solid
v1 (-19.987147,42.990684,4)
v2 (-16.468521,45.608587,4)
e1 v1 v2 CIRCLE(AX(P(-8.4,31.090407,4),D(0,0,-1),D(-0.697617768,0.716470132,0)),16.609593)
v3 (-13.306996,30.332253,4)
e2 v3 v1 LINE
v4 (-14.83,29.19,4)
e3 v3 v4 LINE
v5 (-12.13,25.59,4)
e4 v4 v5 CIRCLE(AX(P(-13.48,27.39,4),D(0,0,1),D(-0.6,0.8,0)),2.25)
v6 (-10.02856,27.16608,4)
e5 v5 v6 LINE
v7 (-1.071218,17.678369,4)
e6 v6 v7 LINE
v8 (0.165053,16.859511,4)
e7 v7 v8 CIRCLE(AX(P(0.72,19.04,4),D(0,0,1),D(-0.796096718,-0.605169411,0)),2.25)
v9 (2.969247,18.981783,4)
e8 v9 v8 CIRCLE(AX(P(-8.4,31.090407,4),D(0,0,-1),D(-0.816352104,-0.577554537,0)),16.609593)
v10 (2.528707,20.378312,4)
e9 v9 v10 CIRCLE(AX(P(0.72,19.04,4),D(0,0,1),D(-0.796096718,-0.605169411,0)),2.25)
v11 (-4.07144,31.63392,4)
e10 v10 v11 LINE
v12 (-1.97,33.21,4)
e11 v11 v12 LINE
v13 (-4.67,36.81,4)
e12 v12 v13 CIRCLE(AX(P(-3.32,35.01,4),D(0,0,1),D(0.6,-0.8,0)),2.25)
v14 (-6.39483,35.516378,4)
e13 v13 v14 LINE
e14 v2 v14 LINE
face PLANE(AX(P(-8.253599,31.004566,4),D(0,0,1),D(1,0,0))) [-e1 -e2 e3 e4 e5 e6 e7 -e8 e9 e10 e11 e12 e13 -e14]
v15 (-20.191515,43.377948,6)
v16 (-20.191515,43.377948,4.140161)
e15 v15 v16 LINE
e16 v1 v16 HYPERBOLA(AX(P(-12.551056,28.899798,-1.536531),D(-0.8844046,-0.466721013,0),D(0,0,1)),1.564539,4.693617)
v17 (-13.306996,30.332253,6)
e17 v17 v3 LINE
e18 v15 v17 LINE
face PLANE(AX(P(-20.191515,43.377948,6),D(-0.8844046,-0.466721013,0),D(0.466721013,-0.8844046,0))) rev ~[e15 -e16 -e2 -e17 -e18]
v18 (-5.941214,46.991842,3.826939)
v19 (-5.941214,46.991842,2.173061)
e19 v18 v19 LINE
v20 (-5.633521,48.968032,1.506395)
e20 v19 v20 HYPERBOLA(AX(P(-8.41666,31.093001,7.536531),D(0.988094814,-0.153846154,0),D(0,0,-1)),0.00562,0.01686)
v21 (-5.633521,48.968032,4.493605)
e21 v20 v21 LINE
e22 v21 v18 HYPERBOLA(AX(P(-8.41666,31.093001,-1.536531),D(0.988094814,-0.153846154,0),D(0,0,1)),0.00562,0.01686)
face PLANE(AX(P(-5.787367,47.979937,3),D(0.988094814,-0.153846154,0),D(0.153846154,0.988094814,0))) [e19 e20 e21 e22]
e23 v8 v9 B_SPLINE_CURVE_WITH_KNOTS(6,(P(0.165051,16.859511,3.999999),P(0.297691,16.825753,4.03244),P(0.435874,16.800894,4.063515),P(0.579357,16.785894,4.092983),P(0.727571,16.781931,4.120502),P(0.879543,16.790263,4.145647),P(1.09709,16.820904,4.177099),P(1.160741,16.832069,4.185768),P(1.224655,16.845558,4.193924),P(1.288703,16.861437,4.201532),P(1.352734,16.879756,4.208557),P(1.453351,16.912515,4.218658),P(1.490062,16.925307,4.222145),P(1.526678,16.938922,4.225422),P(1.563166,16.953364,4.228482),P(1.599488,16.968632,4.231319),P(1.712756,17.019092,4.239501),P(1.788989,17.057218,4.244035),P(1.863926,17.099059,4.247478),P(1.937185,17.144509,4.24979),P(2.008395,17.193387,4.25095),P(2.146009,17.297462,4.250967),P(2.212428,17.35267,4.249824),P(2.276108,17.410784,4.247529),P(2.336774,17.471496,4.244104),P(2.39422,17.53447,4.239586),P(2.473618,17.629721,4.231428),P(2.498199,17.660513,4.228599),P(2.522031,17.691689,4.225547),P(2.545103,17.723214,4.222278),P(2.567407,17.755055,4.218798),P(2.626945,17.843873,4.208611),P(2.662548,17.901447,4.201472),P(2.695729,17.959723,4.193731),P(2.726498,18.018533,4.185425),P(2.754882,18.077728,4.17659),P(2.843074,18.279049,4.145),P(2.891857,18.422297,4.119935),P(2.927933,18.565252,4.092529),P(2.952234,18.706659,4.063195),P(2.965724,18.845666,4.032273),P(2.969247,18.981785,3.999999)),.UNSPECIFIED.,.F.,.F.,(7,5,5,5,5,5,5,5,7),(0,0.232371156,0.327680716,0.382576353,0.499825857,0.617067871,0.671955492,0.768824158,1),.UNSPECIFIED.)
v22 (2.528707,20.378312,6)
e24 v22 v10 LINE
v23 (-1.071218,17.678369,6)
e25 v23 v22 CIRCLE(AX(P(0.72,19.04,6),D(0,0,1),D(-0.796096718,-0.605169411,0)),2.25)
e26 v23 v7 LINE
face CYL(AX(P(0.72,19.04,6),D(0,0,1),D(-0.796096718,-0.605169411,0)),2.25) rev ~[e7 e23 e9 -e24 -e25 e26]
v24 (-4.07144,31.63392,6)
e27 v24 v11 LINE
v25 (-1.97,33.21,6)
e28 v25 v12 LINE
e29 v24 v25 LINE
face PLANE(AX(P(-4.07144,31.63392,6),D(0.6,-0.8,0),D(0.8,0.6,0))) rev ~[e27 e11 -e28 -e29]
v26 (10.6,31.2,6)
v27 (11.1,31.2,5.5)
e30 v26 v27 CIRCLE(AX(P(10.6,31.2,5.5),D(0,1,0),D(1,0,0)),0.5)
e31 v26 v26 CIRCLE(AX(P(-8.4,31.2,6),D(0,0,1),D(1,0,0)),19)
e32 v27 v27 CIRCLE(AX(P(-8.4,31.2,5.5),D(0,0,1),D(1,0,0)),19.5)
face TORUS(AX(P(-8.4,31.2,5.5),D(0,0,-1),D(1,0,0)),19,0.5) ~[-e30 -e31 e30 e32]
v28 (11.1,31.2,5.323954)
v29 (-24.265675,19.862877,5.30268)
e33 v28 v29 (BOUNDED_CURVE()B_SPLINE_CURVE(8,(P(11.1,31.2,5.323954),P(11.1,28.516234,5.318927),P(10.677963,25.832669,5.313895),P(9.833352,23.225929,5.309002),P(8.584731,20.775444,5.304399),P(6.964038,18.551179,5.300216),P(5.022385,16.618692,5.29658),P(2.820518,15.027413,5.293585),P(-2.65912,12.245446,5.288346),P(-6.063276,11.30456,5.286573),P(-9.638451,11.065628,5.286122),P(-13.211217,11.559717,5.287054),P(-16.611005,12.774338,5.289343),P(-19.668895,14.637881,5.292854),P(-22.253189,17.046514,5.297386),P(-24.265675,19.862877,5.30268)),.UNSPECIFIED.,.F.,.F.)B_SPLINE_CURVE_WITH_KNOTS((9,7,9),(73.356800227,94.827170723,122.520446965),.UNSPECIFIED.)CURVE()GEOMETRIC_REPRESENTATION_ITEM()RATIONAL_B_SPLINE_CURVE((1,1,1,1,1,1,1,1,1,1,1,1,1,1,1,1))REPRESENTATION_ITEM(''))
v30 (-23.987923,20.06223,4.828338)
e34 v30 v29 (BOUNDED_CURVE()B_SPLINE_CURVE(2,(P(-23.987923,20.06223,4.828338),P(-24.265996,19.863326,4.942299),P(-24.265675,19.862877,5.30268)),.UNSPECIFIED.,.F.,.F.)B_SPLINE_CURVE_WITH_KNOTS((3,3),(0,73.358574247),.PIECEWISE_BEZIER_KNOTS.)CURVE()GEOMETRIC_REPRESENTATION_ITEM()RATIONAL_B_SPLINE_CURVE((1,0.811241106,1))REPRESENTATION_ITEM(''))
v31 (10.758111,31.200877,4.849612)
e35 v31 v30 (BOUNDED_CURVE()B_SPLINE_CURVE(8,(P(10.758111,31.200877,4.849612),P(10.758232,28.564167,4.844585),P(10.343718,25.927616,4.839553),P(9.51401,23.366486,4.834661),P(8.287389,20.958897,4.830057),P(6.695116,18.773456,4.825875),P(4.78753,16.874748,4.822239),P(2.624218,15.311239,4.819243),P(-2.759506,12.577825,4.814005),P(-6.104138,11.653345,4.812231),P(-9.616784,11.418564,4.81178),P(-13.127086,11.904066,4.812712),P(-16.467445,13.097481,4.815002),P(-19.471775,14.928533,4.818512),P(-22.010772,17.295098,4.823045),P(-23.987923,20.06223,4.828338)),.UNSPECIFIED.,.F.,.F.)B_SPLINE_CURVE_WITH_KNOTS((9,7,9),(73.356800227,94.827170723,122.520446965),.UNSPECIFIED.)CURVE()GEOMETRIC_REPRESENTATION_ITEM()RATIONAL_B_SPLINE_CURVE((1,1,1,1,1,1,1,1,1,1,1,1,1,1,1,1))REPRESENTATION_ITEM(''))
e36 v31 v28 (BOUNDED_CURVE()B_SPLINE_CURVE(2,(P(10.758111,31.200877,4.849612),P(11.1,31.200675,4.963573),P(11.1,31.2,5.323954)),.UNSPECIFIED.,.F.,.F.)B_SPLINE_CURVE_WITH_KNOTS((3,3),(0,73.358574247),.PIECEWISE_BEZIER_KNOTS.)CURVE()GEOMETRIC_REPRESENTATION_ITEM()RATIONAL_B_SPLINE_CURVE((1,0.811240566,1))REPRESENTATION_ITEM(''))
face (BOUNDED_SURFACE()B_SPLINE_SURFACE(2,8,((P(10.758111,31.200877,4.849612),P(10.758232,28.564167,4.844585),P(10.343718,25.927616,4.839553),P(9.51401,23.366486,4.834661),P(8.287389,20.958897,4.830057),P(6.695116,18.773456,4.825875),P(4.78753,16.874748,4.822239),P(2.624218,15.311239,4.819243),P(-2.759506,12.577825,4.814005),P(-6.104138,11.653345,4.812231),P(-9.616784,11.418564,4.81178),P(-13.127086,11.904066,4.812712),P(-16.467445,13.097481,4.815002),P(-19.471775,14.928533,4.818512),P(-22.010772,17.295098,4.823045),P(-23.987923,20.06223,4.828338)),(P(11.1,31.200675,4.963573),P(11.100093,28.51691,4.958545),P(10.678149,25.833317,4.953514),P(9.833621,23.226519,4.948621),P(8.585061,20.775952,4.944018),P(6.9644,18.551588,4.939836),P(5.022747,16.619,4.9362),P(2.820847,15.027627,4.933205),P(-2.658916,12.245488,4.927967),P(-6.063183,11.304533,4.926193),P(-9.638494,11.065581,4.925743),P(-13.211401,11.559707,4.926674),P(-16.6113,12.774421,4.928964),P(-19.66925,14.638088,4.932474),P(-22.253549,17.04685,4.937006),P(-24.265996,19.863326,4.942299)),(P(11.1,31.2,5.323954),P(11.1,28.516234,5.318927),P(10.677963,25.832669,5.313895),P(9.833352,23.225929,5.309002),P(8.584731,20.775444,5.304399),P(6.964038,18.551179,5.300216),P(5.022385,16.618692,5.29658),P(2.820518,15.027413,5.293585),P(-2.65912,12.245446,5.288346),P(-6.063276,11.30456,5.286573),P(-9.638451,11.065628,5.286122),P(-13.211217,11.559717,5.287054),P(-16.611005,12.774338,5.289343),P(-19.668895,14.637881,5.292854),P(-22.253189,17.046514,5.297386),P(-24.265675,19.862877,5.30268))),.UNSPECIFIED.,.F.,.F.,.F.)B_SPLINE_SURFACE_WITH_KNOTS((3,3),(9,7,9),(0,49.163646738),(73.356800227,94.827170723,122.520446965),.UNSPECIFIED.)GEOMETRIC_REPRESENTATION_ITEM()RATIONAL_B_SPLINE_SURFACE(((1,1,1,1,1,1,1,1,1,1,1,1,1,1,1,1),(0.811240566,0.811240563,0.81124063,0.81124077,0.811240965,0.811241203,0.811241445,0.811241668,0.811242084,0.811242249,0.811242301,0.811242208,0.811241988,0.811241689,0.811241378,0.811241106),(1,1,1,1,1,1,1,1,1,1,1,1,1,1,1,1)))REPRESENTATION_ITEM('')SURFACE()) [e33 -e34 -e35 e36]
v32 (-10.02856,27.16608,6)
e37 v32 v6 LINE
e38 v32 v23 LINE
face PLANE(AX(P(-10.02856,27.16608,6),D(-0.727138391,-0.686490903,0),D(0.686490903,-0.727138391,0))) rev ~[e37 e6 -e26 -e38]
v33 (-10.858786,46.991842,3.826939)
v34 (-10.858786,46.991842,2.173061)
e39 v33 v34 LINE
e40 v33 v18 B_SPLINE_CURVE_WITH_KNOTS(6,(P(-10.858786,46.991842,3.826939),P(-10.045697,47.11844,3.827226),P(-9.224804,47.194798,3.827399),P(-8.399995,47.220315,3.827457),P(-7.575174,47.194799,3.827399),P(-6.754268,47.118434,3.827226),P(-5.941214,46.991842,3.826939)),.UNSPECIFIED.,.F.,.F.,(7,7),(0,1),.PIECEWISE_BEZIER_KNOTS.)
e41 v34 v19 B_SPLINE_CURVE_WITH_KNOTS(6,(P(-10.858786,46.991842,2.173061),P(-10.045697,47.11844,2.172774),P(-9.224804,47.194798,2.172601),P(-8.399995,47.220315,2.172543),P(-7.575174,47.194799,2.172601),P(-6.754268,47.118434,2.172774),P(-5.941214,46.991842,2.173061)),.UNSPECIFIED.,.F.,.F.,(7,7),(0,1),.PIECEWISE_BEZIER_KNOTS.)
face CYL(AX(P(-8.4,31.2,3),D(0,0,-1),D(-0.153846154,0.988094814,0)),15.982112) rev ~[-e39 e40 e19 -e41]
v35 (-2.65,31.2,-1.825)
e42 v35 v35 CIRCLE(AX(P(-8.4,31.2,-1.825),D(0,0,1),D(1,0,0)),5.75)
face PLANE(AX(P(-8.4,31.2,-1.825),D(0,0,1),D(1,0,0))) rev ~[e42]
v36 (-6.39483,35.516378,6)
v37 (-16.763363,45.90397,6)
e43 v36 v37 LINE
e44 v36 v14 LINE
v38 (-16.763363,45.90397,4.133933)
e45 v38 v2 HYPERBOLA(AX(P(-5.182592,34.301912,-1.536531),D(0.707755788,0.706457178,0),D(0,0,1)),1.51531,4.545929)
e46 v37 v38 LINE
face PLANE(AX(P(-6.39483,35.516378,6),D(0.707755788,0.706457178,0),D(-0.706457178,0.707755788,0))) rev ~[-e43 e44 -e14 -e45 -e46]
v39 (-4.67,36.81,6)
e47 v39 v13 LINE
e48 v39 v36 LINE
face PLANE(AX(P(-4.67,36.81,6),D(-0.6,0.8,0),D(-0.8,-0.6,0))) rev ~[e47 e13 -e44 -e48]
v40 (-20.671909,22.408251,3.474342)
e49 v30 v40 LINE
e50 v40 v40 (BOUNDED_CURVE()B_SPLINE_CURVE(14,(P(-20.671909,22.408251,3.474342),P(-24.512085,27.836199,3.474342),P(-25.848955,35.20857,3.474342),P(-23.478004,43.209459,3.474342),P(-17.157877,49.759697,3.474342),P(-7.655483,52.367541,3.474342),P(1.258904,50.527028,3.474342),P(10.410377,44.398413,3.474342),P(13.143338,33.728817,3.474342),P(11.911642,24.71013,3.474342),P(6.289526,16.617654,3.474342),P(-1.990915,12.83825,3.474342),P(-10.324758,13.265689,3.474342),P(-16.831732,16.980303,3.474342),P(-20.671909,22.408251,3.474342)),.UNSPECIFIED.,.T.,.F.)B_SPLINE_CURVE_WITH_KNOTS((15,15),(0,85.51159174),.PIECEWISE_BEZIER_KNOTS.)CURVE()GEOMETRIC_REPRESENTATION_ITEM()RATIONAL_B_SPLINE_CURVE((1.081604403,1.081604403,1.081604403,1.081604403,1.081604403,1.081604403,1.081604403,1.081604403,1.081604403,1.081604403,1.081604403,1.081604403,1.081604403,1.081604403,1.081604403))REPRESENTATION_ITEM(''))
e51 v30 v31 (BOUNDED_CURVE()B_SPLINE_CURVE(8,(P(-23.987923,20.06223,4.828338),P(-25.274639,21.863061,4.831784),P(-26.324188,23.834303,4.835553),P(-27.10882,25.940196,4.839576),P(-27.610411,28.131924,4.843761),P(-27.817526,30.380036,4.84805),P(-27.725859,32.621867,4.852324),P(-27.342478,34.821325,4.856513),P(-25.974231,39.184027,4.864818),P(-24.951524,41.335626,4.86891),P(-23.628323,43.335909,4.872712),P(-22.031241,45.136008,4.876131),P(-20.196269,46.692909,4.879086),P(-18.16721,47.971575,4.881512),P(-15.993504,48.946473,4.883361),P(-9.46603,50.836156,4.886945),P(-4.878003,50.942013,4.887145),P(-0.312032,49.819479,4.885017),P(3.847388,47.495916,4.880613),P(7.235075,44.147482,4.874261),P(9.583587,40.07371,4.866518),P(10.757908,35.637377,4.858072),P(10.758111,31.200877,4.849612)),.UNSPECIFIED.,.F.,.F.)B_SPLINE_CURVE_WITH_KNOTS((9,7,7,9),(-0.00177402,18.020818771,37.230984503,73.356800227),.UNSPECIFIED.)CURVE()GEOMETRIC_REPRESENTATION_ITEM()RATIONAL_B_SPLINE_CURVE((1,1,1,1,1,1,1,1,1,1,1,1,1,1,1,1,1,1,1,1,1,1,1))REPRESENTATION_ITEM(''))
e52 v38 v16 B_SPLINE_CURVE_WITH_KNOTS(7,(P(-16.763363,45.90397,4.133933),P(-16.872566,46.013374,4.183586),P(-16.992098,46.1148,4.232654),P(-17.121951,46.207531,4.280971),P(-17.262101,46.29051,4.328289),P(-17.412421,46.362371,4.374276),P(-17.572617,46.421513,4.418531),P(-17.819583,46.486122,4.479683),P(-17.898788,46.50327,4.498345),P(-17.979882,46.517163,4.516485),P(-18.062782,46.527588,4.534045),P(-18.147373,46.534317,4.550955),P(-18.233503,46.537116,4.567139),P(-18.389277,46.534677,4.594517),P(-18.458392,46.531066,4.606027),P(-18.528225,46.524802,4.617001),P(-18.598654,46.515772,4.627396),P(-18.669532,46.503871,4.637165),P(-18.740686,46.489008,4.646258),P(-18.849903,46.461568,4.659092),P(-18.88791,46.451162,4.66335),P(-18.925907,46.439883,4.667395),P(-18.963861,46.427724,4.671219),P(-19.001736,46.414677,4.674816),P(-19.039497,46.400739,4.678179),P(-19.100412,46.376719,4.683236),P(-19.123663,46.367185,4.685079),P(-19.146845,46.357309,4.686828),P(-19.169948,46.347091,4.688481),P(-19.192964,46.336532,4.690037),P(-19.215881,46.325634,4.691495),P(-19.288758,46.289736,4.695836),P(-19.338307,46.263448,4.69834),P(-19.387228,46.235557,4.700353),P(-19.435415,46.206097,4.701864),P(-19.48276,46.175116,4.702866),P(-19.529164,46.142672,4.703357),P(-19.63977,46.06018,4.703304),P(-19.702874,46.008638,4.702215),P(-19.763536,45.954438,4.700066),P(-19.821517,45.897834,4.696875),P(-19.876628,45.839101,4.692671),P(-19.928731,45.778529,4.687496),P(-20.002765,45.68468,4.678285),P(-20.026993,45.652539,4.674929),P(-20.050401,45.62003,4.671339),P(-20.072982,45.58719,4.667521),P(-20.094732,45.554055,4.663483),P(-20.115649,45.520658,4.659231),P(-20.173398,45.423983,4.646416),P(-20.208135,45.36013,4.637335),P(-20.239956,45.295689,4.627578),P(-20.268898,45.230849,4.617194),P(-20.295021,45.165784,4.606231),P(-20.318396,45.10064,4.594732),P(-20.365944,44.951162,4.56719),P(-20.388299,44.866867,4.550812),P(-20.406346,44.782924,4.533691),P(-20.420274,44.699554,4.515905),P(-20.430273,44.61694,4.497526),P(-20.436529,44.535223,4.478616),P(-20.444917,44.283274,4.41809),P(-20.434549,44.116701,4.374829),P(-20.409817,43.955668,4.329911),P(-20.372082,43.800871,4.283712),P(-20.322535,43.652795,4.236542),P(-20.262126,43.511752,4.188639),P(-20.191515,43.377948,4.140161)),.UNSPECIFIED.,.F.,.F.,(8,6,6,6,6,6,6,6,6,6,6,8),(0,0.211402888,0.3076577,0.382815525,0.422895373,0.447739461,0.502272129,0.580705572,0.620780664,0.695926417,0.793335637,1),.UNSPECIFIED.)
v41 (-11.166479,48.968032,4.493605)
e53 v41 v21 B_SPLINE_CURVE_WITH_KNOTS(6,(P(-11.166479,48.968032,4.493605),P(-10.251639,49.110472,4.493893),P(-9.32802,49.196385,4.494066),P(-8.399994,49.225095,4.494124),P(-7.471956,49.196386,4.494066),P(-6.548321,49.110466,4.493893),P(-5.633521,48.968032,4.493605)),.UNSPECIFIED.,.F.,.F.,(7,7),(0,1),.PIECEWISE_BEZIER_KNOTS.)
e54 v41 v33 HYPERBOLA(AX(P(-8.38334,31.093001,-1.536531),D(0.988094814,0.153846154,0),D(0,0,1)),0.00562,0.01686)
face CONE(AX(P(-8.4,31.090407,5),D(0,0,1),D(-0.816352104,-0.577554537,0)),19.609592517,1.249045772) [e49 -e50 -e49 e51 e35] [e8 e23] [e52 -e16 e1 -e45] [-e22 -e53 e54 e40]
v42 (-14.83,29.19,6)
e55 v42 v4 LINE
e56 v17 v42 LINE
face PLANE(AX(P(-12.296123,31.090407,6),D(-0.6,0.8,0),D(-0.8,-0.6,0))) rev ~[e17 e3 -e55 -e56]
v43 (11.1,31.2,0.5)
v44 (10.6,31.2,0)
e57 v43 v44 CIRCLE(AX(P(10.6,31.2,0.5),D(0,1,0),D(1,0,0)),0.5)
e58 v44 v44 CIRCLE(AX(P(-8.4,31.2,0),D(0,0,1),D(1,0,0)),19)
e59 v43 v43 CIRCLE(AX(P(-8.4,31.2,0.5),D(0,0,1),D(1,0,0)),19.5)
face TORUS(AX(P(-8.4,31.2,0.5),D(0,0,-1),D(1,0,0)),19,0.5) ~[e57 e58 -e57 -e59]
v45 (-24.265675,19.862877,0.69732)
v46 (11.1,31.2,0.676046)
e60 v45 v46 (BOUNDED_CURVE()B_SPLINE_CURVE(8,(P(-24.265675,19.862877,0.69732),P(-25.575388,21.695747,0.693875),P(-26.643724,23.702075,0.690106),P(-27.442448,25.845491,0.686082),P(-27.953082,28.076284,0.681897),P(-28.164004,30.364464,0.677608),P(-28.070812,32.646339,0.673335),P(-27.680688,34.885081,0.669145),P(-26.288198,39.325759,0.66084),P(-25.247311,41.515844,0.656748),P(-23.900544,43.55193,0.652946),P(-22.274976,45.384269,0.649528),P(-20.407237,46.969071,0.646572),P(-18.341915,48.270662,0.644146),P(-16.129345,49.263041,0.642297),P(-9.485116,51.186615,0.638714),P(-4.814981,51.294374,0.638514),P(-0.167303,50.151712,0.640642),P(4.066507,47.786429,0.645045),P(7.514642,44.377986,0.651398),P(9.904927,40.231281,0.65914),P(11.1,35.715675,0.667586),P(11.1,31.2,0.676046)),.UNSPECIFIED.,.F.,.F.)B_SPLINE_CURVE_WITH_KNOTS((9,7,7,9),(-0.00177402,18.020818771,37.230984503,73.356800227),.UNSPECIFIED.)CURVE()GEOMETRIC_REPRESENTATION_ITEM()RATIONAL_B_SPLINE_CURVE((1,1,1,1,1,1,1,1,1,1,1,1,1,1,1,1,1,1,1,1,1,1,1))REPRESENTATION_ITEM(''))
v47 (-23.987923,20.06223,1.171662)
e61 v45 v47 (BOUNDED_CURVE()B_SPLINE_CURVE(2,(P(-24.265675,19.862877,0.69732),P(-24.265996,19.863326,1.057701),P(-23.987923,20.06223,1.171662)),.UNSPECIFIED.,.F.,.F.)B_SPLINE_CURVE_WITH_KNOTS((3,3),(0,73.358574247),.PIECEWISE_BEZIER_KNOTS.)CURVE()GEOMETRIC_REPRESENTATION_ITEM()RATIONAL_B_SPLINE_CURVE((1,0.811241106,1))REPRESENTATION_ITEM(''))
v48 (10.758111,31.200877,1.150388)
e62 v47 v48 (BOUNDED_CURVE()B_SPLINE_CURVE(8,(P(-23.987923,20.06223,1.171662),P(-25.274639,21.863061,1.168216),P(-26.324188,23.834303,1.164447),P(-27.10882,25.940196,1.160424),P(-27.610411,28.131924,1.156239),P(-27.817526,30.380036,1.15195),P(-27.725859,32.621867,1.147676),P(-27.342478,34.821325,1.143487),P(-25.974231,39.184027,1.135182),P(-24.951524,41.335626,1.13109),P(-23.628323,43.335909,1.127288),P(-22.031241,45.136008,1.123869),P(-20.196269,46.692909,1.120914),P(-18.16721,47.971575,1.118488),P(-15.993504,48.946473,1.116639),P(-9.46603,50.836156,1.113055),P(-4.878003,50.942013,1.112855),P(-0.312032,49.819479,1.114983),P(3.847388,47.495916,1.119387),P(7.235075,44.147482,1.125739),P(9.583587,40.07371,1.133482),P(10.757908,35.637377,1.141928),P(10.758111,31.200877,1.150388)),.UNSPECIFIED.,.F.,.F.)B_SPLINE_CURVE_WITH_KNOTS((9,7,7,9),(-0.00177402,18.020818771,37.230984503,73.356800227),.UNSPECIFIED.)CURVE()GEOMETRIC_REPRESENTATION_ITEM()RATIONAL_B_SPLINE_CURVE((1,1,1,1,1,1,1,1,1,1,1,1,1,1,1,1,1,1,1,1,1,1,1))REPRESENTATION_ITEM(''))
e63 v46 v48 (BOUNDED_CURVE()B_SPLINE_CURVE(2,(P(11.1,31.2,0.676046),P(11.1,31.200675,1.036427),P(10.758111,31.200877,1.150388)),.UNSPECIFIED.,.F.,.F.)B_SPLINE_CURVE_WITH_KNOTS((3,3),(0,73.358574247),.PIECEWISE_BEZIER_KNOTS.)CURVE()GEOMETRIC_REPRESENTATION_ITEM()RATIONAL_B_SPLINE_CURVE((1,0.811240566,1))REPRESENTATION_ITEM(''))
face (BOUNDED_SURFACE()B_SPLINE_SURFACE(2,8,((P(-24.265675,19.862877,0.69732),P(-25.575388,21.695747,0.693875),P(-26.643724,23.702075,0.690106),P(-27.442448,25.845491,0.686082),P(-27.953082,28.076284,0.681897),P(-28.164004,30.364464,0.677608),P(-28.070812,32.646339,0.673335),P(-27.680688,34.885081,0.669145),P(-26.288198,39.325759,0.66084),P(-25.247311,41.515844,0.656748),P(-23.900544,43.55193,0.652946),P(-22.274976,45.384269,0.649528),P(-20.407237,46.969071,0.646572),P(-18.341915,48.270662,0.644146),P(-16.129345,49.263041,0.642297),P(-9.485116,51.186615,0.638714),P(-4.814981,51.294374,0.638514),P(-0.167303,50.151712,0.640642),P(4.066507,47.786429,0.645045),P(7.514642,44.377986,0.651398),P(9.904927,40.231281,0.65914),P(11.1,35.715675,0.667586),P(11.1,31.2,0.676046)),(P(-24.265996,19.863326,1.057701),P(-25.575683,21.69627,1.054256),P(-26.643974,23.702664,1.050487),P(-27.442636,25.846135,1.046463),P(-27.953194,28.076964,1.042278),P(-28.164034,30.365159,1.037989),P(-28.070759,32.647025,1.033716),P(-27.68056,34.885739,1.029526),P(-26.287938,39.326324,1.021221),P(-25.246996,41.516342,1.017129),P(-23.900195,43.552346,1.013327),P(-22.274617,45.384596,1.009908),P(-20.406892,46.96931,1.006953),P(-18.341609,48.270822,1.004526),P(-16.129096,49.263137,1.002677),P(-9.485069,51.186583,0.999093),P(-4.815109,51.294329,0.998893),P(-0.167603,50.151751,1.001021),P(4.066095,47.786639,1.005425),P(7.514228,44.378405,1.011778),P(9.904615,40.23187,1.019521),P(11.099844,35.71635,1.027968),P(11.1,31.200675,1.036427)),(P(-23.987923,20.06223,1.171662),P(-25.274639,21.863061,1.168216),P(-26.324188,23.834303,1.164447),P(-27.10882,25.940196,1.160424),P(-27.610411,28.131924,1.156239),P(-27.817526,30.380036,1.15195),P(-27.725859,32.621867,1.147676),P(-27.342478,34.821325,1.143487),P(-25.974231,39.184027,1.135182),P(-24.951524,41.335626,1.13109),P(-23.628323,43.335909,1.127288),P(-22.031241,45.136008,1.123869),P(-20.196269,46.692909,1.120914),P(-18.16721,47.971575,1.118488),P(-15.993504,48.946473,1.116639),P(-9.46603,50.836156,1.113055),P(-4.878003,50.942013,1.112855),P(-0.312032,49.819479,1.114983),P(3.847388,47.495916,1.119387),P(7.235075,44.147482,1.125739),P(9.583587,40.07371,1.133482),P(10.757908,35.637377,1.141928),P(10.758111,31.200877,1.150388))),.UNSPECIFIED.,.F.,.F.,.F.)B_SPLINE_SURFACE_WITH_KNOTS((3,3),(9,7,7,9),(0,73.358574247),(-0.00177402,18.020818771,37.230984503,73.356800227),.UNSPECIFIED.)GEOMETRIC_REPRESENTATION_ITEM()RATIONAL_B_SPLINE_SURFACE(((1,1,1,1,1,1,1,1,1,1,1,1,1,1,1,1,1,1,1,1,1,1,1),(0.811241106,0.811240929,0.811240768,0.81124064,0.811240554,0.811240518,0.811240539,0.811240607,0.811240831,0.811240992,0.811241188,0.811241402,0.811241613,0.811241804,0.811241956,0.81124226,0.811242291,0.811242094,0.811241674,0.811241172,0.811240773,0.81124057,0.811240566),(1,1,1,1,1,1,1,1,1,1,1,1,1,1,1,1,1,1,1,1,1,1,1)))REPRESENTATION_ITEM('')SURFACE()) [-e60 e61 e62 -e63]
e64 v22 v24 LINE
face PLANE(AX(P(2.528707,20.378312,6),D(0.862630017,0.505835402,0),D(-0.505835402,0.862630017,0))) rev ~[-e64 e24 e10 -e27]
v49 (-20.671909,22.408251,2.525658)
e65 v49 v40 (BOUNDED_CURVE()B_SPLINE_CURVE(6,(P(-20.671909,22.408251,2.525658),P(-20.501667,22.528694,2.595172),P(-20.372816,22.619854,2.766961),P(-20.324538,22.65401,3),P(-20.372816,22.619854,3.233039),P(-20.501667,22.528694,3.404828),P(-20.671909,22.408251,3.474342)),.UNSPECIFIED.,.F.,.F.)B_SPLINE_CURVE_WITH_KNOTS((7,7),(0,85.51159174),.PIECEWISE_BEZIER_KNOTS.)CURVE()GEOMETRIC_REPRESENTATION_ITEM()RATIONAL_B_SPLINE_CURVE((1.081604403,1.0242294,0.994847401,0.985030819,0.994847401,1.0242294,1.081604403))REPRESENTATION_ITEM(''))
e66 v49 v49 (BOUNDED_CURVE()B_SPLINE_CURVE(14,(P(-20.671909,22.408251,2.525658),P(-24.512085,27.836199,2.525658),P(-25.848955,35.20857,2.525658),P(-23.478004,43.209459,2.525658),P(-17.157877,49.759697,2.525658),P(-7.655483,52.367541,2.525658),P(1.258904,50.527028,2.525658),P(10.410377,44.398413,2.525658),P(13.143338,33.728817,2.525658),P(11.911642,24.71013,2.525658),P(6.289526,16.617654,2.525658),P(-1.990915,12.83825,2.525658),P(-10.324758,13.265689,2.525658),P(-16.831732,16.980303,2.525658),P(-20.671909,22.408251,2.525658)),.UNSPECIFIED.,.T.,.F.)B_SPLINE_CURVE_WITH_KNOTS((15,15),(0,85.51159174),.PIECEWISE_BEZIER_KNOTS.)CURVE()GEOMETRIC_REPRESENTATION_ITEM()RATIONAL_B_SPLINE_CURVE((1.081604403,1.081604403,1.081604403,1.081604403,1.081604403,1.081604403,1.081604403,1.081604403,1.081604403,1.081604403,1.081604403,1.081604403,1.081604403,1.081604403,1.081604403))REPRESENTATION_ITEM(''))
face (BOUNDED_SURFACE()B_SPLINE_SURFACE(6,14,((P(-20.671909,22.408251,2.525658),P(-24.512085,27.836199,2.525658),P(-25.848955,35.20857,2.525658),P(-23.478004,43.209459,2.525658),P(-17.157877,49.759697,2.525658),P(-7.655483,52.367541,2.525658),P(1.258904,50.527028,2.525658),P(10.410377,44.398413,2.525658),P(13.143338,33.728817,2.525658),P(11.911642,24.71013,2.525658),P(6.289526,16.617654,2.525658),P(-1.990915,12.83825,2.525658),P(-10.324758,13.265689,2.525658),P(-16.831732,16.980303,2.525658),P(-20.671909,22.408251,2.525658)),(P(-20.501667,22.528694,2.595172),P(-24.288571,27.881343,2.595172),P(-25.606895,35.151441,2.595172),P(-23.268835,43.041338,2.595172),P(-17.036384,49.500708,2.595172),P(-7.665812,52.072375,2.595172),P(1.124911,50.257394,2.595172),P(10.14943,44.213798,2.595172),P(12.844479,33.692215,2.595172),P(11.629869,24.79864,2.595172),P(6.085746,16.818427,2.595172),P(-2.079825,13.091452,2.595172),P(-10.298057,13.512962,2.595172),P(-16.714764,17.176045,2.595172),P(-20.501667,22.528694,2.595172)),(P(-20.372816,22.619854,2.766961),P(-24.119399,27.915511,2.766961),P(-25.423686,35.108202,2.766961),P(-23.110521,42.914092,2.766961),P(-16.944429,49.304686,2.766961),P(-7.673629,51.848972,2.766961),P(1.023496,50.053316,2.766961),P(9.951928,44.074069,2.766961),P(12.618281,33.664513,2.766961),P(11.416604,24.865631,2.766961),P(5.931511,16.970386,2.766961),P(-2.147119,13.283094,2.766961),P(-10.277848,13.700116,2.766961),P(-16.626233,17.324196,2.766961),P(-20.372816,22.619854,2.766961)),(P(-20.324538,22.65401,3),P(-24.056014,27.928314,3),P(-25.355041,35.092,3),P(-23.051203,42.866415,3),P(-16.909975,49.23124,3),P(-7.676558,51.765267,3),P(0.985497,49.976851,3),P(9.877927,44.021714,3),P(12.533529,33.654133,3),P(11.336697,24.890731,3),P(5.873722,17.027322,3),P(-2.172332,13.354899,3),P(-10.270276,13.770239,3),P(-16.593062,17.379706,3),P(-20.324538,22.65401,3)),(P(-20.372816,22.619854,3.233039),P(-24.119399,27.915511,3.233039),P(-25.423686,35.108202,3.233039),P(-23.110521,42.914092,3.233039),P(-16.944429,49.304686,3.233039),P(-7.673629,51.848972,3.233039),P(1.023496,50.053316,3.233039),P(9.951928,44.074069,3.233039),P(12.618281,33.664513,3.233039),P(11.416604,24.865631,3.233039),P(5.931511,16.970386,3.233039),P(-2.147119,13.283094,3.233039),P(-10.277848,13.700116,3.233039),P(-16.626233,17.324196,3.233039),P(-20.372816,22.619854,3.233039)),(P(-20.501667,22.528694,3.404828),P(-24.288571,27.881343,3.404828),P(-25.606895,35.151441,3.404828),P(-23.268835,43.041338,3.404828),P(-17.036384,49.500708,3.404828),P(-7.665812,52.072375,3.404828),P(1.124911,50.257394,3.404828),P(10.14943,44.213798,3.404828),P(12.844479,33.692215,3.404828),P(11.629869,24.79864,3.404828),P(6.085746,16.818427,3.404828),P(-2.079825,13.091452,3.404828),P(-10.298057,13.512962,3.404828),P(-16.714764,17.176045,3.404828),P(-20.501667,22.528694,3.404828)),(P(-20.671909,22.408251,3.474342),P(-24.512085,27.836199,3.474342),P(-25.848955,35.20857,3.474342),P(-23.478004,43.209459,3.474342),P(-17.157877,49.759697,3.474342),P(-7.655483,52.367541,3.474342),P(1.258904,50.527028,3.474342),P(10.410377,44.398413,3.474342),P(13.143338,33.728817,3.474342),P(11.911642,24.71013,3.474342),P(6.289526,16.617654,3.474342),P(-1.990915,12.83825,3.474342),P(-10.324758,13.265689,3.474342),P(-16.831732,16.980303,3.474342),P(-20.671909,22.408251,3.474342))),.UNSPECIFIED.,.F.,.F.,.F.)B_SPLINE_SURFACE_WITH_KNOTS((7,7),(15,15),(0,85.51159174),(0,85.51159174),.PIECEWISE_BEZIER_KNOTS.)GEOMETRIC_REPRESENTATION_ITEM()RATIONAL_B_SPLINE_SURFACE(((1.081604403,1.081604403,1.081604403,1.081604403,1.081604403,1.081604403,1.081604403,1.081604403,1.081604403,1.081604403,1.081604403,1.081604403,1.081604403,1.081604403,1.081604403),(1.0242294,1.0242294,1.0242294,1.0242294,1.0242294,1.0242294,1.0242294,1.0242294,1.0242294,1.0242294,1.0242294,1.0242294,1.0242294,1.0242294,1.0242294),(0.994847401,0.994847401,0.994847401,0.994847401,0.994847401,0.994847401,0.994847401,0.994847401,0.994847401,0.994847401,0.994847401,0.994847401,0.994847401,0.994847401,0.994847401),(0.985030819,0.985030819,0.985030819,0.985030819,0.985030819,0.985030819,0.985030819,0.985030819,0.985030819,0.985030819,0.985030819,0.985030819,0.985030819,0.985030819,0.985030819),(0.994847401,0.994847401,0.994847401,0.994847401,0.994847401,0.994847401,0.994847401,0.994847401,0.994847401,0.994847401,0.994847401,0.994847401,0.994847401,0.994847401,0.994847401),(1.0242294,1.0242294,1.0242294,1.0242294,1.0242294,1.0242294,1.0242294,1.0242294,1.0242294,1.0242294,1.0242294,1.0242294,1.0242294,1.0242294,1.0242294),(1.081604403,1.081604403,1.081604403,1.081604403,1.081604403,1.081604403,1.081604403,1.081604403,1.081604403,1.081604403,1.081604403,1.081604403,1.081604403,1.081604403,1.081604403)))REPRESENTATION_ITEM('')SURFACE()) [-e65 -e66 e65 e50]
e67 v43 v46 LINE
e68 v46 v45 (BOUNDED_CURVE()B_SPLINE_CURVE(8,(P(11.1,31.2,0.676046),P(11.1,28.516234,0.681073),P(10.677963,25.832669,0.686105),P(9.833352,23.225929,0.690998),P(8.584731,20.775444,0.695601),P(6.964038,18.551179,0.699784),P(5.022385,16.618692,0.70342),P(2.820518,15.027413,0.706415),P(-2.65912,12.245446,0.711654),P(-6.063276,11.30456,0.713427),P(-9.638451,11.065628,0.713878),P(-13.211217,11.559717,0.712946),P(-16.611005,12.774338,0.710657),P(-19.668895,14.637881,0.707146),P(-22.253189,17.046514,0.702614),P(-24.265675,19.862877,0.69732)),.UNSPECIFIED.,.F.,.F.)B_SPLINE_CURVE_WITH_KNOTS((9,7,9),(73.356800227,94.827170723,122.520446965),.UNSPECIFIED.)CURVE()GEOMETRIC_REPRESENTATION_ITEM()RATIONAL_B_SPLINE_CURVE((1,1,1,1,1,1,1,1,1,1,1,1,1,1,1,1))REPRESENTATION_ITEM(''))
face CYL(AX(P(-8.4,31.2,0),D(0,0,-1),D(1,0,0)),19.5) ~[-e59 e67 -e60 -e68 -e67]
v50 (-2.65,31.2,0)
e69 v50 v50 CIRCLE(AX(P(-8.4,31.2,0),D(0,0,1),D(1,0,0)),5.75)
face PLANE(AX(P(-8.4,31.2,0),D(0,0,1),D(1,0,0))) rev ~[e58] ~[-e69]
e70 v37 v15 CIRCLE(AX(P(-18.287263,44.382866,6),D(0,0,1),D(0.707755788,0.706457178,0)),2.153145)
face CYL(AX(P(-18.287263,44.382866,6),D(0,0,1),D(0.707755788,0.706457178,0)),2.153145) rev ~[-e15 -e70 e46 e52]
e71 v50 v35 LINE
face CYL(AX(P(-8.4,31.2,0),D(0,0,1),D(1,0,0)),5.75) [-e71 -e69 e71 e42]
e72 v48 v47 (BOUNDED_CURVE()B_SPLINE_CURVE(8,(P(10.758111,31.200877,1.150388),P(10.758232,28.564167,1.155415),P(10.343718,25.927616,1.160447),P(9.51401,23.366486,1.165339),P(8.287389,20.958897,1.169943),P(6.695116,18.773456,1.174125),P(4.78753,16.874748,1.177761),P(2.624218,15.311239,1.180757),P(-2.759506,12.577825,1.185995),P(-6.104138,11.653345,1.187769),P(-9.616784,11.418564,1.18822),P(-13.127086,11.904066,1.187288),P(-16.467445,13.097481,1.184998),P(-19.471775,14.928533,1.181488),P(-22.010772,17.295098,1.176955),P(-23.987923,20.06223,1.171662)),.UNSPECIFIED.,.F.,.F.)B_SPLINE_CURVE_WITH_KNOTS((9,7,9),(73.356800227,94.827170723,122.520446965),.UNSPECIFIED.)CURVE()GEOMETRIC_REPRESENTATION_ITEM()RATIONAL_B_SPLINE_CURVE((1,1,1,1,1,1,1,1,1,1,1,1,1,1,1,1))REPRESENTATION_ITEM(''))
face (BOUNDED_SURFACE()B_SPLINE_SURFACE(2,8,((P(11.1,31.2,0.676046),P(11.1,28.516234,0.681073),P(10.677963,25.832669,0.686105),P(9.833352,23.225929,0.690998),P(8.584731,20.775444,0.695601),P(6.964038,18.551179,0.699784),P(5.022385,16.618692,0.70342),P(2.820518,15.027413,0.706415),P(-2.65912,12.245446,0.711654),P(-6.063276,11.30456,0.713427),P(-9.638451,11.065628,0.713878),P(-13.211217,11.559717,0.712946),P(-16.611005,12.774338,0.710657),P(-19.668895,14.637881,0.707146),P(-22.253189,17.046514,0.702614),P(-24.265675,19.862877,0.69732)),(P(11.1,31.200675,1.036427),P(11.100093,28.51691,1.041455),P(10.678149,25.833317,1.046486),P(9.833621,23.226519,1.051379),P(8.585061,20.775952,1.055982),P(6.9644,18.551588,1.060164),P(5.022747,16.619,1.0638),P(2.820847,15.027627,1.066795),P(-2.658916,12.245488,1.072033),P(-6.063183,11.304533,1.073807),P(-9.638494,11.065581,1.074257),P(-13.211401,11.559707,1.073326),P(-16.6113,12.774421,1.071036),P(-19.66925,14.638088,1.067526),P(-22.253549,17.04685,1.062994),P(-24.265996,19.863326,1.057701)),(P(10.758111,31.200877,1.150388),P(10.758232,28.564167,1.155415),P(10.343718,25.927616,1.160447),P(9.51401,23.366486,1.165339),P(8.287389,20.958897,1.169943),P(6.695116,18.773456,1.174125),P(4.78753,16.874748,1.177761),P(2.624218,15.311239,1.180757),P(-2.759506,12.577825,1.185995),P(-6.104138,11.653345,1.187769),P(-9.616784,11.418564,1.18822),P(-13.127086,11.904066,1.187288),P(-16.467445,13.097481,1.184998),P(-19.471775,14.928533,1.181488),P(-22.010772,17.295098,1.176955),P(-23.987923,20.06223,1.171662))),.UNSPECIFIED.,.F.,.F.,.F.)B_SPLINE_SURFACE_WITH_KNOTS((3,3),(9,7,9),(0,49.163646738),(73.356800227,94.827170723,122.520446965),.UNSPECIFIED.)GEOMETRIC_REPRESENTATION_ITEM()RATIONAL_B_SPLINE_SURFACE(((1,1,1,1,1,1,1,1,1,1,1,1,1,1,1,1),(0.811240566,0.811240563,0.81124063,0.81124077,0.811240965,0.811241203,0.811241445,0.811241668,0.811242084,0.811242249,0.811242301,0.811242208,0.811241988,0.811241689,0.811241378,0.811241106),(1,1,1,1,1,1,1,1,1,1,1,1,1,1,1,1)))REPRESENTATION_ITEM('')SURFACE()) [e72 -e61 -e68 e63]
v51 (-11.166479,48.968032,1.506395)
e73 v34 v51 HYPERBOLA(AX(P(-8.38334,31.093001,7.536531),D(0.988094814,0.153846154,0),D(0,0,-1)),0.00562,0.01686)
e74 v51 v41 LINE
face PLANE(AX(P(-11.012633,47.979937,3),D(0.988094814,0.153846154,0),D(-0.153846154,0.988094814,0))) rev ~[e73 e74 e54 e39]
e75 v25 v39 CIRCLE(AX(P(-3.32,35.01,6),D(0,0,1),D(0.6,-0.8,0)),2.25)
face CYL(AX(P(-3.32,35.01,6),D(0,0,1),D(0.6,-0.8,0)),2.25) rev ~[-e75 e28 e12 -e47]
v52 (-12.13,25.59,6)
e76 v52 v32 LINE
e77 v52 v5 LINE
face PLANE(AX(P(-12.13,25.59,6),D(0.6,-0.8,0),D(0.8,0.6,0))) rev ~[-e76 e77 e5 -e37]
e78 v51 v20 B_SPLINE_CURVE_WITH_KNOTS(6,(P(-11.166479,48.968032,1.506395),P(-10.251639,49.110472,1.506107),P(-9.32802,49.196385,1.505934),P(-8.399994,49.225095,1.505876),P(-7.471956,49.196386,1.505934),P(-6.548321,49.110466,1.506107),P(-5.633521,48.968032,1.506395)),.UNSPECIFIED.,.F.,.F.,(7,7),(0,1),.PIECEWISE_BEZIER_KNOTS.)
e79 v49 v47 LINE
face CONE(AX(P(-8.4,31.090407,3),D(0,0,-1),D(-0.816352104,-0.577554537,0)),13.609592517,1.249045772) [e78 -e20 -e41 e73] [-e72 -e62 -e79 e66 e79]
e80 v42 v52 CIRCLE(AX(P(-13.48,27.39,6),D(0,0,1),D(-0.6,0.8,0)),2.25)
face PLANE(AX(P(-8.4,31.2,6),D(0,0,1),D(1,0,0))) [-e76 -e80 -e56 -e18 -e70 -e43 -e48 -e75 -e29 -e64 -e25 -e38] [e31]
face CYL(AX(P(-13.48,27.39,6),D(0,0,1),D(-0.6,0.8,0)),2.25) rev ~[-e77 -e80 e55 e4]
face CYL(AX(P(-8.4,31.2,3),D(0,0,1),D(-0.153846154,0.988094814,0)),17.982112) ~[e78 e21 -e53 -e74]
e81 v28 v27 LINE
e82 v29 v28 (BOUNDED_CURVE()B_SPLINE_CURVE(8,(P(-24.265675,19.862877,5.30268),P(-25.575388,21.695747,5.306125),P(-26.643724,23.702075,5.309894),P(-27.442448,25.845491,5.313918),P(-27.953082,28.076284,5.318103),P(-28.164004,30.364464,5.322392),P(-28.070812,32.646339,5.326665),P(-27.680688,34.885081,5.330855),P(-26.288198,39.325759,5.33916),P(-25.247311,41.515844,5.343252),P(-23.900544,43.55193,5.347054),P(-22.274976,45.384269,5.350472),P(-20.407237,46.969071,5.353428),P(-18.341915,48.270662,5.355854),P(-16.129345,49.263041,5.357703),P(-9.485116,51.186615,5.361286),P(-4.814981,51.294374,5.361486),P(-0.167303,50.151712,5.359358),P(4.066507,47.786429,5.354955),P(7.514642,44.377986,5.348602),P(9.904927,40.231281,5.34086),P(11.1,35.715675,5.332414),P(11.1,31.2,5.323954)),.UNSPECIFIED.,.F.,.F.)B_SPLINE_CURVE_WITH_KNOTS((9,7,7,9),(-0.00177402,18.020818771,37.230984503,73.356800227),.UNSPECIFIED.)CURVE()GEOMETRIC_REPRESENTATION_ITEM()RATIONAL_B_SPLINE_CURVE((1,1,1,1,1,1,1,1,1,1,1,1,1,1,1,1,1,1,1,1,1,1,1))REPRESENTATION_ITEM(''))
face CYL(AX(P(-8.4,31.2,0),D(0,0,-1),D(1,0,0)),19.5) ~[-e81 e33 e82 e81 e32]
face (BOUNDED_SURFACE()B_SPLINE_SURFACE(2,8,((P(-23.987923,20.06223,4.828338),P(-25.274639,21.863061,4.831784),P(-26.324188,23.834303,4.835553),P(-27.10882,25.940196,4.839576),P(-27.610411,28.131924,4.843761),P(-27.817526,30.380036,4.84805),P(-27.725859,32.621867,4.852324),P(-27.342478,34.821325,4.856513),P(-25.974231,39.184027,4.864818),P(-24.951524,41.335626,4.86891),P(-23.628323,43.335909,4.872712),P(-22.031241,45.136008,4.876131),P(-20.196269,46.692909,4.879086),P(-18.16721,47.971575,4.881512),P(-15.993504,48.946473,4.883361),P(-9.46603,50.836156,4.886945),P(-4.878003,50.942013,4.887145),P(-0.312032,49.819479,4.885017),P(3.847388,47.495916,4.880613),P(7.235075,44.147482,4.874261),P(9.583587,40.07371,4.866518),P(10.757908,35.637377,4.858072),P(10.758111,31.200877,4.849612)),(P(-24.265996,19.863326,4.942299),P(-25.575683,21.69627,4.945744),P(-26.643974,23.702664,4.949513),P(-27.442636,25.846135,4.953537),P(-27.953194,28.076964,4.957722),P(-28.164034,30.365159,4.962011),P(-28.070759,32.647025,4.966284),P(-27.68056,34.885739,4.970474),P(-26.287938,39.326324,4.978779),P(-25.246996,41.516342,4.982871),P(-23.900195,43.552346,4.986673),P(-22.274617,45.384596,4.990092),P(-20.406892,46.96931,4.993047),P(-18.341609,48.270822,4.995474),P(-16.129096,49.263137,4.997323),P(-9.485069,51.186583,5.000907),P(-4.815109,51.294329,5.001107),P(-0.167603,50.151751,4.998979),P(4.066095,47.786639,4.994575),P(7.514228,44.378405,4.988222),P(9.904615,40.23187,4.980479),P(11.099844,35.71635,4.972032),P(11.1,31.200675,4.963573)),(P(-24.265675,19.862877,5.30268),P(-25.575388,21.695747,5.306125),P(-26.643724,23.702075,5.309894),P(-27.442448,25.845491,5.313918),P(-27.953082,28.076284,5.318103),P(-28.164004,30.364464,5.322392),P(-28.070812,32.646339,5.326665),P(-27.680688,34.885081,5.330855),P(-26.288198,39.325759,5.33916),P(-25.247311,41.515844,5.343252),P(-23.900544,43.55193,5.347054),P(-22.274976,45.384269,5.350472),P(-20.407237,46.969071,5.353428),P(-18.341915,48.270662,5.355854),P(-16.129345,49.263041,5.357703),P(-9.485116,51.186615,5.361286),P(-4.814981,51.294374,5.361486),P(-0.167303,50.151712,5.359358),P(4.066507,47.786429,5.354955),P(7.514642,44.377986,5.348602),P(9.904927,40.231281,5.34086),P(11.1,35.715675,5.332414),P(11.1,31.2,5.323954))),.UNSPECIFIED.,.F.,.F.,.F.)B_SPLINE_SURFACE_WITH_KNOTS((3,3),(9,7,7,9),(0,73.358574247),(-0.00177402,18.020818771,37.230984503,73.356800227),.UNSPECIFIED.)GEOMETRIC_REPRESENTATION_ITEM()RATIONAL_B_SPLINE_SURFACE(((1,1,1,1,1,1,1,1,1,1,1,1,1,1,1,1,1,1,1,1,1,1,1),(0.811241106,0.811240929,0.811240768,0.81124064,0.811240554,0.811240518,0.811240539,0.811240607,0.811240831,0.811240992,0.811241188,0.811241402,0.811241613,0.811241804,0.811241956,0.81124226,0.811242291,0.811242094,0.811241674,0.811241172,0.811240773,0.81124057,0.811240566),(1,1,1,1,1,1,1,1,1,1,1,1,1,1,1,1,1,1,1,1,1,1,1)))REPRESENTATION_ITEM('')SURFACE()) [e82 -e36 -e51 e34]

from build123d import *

# Parameters (mm, degrees)
SKETCH1_R           = 5.75
BOSS_EXTRUDE1_DEPTH = 1.825
SKETCH2_R           = 19.5
BOSS_EXTRUDE2_DEPTH = 6
CUT_EXTRUDE2_DEPTH  = 2
CUT_EXTRUDE3_REACH  = 60.396
FILLET2_R           = 0.5
SKETCH11_W          = 3
SKETCH11_H          = 2


with BuildPart() as part:
    # Sketch1 → Boss-Extrude1 (new body)
    with BuildSketch(Plane.XY):
        with Locations((-8.400000005, 31.200000007)):
            Circle(SKETCH1_R)
    extrude(amount=-BOSS_EXTRUDE1_DEPTH)

    # Sketch2 → Boss-Extrude2 (add)
    with BuildSketch(Plane.XY):
        with Locations((-8.400000005, 31.200000007)):
            Circle(SKETCH2_R)
    extrude(amount=BOSS_EXTRUDE2_DEPTH)

    # Sketch5 → Cut-Extrude2 (cut)
    with BuildSketch(Plane.XY.offset(6)):
        with BuildLine():
            Line((-19.325534026, 42.017410383), (-12.29612336, 31.09040749))
            Line((-12.29612336, 31.09040749), (-14.830000005, 29.190000007))
            ThreePointArc((-14.830000005, 29.190000007), (-15.280000005, 26.040000007), (-12.130000005, 25.590000007))
            Line((-12.130000005, 25.590000007), (-10.028559912, 27.166080076))
            Line((-10.028559912, 27.166080076), (-1.07121762, 17.678368832))
            ThreePointArc((-1.07121762, 17.678368832), (2.069999995, 17.240000007), (2.528706855, 20.378312188))
            Line((2.528706855, 20.378312188), (-4.071440097, 31.633919937))
            Line((-4.071440097, 31.633919937), (-1.970000005, 33.210000007))
            ThreePointArc((-1.970000005, 33.210000007), (-1.520000005, 36.360000007), (-4.670000005, 36.810000007))
            Line((-4.670000005, 36.810000007), (-7.203876649, 34.909592523))
            Line((-7.203876649, 34.909592523), (-15.72556444, 44.717387572))
            ThreePointArc((-15.72556444, 44.717387572), (-18.870000005, 45.160000007), (-19.325534026, 42.017410383))
        make_face()
    extrude(amount=-CUT_EXTRUDE2_DEPTH, mode=Mode.SUBTRACT)

    # Sketch6 → Cut-Revolve2 (revolve, cut)
    with BuildSketch(Plane(origin=(-8.400000005, 0, 0), x_dir=(0, 0, -1), z_dir=(1, 0, 0)), mode=Mode.PRIVATE) as cut_revolve2_sk:
        Polygon((-5, 50.700000007), (-3, 44.700000007), (-1, 50.700000007), align=None)
    revolve(cut_revolve2_sk.sketch.rotate(Axis((-8.400000005, 31.09040749, 6), (0, 0, -1)), 234.721275033), axis=Axis((-8.400000005, 31.09040749, 6), (0, 0, -1)), mode=Mode.SUBTRACT)

    # Cut-Extrude3: up to this face of the body (flat: up to its plane)
    cut_extrude3_end = Plane(part.part.faces().sort_by_distance((-8.253598799, 31.004565822, 4))[0])
    # Sketch10 → Cut-Extrude3 (cut, up to the picked face)
    with BuildSketch(Plane.XY.offset(6), mode=Mode.PRIVATE) as cut_extrude3_sk1:
        with BuildLine():
            Line((-6.394829661, 35.516377765), (-16.763362693, 45.903970239))
            ThreePointArc((-16.763362693, 45.903970239), (-19.564512142, 46.116263602), (-20.191514703, 43.377947606))
            Line((-20.191514703, 43.377947606), (-13.306996168, 30.332252884))
            Line((-13.306996168, 30.332252884), (-6.394829661, 35.516377765))
        make_face()
    cut_extrude3_tool1 = split(extrude(cut_extrude3_sk1.sketch, amount=-CUT_EXTRUDE3_REACH, mode=Mode.PRIVATE), bisect_by=cut_extrude3_end, keep=Keep.BOTH, mode=Mode.PRIVATE)
    add(cut_extrude3_tool1.solids().sort_by(Axis((-13.988483, 38.541147, 6), (0, 0, -1)))[0], mode=Mode.SUBTRACT)

    # Fillet2
    fillet2_edges = [part.edges().sort_by_distance(p)[0] for p in [
        (2.710219474, 38.950689393, 3),
        (-14.351603991, 49.769556005, 4.99826644),
        (-14.351603992, 49.769556005, 1.00173356),
        (-27.900000005, 31.200000007, 0),
        (-27.900000005, 31.200000007, 6),
    ]]
    fillet(fillet2_edges, radius=FILLET2_R)

    # Sweep1: sweep along a path in Sketch13
    with BuildLine(Plane.XY) as sweep1_path:
        ThreePointArc((-11.400000005, 50.467848875), (-8.400000005, 50.700000007), (-5.400000005, 50.467848875))
    # Sketch11 → Sweep1 (sweep)
    with BuildSketch(Plane(origin=(-8.400000005, 0, 0), x_dir=(0, 0, -1), z_dir=(1, 0, 0))):
        with Locations((-3, 48.182111944)):
            Rectangle(SKETCH11_W, SKETCH11_H)
    sweep(path=sweep1_path.line)


solid = part.part
